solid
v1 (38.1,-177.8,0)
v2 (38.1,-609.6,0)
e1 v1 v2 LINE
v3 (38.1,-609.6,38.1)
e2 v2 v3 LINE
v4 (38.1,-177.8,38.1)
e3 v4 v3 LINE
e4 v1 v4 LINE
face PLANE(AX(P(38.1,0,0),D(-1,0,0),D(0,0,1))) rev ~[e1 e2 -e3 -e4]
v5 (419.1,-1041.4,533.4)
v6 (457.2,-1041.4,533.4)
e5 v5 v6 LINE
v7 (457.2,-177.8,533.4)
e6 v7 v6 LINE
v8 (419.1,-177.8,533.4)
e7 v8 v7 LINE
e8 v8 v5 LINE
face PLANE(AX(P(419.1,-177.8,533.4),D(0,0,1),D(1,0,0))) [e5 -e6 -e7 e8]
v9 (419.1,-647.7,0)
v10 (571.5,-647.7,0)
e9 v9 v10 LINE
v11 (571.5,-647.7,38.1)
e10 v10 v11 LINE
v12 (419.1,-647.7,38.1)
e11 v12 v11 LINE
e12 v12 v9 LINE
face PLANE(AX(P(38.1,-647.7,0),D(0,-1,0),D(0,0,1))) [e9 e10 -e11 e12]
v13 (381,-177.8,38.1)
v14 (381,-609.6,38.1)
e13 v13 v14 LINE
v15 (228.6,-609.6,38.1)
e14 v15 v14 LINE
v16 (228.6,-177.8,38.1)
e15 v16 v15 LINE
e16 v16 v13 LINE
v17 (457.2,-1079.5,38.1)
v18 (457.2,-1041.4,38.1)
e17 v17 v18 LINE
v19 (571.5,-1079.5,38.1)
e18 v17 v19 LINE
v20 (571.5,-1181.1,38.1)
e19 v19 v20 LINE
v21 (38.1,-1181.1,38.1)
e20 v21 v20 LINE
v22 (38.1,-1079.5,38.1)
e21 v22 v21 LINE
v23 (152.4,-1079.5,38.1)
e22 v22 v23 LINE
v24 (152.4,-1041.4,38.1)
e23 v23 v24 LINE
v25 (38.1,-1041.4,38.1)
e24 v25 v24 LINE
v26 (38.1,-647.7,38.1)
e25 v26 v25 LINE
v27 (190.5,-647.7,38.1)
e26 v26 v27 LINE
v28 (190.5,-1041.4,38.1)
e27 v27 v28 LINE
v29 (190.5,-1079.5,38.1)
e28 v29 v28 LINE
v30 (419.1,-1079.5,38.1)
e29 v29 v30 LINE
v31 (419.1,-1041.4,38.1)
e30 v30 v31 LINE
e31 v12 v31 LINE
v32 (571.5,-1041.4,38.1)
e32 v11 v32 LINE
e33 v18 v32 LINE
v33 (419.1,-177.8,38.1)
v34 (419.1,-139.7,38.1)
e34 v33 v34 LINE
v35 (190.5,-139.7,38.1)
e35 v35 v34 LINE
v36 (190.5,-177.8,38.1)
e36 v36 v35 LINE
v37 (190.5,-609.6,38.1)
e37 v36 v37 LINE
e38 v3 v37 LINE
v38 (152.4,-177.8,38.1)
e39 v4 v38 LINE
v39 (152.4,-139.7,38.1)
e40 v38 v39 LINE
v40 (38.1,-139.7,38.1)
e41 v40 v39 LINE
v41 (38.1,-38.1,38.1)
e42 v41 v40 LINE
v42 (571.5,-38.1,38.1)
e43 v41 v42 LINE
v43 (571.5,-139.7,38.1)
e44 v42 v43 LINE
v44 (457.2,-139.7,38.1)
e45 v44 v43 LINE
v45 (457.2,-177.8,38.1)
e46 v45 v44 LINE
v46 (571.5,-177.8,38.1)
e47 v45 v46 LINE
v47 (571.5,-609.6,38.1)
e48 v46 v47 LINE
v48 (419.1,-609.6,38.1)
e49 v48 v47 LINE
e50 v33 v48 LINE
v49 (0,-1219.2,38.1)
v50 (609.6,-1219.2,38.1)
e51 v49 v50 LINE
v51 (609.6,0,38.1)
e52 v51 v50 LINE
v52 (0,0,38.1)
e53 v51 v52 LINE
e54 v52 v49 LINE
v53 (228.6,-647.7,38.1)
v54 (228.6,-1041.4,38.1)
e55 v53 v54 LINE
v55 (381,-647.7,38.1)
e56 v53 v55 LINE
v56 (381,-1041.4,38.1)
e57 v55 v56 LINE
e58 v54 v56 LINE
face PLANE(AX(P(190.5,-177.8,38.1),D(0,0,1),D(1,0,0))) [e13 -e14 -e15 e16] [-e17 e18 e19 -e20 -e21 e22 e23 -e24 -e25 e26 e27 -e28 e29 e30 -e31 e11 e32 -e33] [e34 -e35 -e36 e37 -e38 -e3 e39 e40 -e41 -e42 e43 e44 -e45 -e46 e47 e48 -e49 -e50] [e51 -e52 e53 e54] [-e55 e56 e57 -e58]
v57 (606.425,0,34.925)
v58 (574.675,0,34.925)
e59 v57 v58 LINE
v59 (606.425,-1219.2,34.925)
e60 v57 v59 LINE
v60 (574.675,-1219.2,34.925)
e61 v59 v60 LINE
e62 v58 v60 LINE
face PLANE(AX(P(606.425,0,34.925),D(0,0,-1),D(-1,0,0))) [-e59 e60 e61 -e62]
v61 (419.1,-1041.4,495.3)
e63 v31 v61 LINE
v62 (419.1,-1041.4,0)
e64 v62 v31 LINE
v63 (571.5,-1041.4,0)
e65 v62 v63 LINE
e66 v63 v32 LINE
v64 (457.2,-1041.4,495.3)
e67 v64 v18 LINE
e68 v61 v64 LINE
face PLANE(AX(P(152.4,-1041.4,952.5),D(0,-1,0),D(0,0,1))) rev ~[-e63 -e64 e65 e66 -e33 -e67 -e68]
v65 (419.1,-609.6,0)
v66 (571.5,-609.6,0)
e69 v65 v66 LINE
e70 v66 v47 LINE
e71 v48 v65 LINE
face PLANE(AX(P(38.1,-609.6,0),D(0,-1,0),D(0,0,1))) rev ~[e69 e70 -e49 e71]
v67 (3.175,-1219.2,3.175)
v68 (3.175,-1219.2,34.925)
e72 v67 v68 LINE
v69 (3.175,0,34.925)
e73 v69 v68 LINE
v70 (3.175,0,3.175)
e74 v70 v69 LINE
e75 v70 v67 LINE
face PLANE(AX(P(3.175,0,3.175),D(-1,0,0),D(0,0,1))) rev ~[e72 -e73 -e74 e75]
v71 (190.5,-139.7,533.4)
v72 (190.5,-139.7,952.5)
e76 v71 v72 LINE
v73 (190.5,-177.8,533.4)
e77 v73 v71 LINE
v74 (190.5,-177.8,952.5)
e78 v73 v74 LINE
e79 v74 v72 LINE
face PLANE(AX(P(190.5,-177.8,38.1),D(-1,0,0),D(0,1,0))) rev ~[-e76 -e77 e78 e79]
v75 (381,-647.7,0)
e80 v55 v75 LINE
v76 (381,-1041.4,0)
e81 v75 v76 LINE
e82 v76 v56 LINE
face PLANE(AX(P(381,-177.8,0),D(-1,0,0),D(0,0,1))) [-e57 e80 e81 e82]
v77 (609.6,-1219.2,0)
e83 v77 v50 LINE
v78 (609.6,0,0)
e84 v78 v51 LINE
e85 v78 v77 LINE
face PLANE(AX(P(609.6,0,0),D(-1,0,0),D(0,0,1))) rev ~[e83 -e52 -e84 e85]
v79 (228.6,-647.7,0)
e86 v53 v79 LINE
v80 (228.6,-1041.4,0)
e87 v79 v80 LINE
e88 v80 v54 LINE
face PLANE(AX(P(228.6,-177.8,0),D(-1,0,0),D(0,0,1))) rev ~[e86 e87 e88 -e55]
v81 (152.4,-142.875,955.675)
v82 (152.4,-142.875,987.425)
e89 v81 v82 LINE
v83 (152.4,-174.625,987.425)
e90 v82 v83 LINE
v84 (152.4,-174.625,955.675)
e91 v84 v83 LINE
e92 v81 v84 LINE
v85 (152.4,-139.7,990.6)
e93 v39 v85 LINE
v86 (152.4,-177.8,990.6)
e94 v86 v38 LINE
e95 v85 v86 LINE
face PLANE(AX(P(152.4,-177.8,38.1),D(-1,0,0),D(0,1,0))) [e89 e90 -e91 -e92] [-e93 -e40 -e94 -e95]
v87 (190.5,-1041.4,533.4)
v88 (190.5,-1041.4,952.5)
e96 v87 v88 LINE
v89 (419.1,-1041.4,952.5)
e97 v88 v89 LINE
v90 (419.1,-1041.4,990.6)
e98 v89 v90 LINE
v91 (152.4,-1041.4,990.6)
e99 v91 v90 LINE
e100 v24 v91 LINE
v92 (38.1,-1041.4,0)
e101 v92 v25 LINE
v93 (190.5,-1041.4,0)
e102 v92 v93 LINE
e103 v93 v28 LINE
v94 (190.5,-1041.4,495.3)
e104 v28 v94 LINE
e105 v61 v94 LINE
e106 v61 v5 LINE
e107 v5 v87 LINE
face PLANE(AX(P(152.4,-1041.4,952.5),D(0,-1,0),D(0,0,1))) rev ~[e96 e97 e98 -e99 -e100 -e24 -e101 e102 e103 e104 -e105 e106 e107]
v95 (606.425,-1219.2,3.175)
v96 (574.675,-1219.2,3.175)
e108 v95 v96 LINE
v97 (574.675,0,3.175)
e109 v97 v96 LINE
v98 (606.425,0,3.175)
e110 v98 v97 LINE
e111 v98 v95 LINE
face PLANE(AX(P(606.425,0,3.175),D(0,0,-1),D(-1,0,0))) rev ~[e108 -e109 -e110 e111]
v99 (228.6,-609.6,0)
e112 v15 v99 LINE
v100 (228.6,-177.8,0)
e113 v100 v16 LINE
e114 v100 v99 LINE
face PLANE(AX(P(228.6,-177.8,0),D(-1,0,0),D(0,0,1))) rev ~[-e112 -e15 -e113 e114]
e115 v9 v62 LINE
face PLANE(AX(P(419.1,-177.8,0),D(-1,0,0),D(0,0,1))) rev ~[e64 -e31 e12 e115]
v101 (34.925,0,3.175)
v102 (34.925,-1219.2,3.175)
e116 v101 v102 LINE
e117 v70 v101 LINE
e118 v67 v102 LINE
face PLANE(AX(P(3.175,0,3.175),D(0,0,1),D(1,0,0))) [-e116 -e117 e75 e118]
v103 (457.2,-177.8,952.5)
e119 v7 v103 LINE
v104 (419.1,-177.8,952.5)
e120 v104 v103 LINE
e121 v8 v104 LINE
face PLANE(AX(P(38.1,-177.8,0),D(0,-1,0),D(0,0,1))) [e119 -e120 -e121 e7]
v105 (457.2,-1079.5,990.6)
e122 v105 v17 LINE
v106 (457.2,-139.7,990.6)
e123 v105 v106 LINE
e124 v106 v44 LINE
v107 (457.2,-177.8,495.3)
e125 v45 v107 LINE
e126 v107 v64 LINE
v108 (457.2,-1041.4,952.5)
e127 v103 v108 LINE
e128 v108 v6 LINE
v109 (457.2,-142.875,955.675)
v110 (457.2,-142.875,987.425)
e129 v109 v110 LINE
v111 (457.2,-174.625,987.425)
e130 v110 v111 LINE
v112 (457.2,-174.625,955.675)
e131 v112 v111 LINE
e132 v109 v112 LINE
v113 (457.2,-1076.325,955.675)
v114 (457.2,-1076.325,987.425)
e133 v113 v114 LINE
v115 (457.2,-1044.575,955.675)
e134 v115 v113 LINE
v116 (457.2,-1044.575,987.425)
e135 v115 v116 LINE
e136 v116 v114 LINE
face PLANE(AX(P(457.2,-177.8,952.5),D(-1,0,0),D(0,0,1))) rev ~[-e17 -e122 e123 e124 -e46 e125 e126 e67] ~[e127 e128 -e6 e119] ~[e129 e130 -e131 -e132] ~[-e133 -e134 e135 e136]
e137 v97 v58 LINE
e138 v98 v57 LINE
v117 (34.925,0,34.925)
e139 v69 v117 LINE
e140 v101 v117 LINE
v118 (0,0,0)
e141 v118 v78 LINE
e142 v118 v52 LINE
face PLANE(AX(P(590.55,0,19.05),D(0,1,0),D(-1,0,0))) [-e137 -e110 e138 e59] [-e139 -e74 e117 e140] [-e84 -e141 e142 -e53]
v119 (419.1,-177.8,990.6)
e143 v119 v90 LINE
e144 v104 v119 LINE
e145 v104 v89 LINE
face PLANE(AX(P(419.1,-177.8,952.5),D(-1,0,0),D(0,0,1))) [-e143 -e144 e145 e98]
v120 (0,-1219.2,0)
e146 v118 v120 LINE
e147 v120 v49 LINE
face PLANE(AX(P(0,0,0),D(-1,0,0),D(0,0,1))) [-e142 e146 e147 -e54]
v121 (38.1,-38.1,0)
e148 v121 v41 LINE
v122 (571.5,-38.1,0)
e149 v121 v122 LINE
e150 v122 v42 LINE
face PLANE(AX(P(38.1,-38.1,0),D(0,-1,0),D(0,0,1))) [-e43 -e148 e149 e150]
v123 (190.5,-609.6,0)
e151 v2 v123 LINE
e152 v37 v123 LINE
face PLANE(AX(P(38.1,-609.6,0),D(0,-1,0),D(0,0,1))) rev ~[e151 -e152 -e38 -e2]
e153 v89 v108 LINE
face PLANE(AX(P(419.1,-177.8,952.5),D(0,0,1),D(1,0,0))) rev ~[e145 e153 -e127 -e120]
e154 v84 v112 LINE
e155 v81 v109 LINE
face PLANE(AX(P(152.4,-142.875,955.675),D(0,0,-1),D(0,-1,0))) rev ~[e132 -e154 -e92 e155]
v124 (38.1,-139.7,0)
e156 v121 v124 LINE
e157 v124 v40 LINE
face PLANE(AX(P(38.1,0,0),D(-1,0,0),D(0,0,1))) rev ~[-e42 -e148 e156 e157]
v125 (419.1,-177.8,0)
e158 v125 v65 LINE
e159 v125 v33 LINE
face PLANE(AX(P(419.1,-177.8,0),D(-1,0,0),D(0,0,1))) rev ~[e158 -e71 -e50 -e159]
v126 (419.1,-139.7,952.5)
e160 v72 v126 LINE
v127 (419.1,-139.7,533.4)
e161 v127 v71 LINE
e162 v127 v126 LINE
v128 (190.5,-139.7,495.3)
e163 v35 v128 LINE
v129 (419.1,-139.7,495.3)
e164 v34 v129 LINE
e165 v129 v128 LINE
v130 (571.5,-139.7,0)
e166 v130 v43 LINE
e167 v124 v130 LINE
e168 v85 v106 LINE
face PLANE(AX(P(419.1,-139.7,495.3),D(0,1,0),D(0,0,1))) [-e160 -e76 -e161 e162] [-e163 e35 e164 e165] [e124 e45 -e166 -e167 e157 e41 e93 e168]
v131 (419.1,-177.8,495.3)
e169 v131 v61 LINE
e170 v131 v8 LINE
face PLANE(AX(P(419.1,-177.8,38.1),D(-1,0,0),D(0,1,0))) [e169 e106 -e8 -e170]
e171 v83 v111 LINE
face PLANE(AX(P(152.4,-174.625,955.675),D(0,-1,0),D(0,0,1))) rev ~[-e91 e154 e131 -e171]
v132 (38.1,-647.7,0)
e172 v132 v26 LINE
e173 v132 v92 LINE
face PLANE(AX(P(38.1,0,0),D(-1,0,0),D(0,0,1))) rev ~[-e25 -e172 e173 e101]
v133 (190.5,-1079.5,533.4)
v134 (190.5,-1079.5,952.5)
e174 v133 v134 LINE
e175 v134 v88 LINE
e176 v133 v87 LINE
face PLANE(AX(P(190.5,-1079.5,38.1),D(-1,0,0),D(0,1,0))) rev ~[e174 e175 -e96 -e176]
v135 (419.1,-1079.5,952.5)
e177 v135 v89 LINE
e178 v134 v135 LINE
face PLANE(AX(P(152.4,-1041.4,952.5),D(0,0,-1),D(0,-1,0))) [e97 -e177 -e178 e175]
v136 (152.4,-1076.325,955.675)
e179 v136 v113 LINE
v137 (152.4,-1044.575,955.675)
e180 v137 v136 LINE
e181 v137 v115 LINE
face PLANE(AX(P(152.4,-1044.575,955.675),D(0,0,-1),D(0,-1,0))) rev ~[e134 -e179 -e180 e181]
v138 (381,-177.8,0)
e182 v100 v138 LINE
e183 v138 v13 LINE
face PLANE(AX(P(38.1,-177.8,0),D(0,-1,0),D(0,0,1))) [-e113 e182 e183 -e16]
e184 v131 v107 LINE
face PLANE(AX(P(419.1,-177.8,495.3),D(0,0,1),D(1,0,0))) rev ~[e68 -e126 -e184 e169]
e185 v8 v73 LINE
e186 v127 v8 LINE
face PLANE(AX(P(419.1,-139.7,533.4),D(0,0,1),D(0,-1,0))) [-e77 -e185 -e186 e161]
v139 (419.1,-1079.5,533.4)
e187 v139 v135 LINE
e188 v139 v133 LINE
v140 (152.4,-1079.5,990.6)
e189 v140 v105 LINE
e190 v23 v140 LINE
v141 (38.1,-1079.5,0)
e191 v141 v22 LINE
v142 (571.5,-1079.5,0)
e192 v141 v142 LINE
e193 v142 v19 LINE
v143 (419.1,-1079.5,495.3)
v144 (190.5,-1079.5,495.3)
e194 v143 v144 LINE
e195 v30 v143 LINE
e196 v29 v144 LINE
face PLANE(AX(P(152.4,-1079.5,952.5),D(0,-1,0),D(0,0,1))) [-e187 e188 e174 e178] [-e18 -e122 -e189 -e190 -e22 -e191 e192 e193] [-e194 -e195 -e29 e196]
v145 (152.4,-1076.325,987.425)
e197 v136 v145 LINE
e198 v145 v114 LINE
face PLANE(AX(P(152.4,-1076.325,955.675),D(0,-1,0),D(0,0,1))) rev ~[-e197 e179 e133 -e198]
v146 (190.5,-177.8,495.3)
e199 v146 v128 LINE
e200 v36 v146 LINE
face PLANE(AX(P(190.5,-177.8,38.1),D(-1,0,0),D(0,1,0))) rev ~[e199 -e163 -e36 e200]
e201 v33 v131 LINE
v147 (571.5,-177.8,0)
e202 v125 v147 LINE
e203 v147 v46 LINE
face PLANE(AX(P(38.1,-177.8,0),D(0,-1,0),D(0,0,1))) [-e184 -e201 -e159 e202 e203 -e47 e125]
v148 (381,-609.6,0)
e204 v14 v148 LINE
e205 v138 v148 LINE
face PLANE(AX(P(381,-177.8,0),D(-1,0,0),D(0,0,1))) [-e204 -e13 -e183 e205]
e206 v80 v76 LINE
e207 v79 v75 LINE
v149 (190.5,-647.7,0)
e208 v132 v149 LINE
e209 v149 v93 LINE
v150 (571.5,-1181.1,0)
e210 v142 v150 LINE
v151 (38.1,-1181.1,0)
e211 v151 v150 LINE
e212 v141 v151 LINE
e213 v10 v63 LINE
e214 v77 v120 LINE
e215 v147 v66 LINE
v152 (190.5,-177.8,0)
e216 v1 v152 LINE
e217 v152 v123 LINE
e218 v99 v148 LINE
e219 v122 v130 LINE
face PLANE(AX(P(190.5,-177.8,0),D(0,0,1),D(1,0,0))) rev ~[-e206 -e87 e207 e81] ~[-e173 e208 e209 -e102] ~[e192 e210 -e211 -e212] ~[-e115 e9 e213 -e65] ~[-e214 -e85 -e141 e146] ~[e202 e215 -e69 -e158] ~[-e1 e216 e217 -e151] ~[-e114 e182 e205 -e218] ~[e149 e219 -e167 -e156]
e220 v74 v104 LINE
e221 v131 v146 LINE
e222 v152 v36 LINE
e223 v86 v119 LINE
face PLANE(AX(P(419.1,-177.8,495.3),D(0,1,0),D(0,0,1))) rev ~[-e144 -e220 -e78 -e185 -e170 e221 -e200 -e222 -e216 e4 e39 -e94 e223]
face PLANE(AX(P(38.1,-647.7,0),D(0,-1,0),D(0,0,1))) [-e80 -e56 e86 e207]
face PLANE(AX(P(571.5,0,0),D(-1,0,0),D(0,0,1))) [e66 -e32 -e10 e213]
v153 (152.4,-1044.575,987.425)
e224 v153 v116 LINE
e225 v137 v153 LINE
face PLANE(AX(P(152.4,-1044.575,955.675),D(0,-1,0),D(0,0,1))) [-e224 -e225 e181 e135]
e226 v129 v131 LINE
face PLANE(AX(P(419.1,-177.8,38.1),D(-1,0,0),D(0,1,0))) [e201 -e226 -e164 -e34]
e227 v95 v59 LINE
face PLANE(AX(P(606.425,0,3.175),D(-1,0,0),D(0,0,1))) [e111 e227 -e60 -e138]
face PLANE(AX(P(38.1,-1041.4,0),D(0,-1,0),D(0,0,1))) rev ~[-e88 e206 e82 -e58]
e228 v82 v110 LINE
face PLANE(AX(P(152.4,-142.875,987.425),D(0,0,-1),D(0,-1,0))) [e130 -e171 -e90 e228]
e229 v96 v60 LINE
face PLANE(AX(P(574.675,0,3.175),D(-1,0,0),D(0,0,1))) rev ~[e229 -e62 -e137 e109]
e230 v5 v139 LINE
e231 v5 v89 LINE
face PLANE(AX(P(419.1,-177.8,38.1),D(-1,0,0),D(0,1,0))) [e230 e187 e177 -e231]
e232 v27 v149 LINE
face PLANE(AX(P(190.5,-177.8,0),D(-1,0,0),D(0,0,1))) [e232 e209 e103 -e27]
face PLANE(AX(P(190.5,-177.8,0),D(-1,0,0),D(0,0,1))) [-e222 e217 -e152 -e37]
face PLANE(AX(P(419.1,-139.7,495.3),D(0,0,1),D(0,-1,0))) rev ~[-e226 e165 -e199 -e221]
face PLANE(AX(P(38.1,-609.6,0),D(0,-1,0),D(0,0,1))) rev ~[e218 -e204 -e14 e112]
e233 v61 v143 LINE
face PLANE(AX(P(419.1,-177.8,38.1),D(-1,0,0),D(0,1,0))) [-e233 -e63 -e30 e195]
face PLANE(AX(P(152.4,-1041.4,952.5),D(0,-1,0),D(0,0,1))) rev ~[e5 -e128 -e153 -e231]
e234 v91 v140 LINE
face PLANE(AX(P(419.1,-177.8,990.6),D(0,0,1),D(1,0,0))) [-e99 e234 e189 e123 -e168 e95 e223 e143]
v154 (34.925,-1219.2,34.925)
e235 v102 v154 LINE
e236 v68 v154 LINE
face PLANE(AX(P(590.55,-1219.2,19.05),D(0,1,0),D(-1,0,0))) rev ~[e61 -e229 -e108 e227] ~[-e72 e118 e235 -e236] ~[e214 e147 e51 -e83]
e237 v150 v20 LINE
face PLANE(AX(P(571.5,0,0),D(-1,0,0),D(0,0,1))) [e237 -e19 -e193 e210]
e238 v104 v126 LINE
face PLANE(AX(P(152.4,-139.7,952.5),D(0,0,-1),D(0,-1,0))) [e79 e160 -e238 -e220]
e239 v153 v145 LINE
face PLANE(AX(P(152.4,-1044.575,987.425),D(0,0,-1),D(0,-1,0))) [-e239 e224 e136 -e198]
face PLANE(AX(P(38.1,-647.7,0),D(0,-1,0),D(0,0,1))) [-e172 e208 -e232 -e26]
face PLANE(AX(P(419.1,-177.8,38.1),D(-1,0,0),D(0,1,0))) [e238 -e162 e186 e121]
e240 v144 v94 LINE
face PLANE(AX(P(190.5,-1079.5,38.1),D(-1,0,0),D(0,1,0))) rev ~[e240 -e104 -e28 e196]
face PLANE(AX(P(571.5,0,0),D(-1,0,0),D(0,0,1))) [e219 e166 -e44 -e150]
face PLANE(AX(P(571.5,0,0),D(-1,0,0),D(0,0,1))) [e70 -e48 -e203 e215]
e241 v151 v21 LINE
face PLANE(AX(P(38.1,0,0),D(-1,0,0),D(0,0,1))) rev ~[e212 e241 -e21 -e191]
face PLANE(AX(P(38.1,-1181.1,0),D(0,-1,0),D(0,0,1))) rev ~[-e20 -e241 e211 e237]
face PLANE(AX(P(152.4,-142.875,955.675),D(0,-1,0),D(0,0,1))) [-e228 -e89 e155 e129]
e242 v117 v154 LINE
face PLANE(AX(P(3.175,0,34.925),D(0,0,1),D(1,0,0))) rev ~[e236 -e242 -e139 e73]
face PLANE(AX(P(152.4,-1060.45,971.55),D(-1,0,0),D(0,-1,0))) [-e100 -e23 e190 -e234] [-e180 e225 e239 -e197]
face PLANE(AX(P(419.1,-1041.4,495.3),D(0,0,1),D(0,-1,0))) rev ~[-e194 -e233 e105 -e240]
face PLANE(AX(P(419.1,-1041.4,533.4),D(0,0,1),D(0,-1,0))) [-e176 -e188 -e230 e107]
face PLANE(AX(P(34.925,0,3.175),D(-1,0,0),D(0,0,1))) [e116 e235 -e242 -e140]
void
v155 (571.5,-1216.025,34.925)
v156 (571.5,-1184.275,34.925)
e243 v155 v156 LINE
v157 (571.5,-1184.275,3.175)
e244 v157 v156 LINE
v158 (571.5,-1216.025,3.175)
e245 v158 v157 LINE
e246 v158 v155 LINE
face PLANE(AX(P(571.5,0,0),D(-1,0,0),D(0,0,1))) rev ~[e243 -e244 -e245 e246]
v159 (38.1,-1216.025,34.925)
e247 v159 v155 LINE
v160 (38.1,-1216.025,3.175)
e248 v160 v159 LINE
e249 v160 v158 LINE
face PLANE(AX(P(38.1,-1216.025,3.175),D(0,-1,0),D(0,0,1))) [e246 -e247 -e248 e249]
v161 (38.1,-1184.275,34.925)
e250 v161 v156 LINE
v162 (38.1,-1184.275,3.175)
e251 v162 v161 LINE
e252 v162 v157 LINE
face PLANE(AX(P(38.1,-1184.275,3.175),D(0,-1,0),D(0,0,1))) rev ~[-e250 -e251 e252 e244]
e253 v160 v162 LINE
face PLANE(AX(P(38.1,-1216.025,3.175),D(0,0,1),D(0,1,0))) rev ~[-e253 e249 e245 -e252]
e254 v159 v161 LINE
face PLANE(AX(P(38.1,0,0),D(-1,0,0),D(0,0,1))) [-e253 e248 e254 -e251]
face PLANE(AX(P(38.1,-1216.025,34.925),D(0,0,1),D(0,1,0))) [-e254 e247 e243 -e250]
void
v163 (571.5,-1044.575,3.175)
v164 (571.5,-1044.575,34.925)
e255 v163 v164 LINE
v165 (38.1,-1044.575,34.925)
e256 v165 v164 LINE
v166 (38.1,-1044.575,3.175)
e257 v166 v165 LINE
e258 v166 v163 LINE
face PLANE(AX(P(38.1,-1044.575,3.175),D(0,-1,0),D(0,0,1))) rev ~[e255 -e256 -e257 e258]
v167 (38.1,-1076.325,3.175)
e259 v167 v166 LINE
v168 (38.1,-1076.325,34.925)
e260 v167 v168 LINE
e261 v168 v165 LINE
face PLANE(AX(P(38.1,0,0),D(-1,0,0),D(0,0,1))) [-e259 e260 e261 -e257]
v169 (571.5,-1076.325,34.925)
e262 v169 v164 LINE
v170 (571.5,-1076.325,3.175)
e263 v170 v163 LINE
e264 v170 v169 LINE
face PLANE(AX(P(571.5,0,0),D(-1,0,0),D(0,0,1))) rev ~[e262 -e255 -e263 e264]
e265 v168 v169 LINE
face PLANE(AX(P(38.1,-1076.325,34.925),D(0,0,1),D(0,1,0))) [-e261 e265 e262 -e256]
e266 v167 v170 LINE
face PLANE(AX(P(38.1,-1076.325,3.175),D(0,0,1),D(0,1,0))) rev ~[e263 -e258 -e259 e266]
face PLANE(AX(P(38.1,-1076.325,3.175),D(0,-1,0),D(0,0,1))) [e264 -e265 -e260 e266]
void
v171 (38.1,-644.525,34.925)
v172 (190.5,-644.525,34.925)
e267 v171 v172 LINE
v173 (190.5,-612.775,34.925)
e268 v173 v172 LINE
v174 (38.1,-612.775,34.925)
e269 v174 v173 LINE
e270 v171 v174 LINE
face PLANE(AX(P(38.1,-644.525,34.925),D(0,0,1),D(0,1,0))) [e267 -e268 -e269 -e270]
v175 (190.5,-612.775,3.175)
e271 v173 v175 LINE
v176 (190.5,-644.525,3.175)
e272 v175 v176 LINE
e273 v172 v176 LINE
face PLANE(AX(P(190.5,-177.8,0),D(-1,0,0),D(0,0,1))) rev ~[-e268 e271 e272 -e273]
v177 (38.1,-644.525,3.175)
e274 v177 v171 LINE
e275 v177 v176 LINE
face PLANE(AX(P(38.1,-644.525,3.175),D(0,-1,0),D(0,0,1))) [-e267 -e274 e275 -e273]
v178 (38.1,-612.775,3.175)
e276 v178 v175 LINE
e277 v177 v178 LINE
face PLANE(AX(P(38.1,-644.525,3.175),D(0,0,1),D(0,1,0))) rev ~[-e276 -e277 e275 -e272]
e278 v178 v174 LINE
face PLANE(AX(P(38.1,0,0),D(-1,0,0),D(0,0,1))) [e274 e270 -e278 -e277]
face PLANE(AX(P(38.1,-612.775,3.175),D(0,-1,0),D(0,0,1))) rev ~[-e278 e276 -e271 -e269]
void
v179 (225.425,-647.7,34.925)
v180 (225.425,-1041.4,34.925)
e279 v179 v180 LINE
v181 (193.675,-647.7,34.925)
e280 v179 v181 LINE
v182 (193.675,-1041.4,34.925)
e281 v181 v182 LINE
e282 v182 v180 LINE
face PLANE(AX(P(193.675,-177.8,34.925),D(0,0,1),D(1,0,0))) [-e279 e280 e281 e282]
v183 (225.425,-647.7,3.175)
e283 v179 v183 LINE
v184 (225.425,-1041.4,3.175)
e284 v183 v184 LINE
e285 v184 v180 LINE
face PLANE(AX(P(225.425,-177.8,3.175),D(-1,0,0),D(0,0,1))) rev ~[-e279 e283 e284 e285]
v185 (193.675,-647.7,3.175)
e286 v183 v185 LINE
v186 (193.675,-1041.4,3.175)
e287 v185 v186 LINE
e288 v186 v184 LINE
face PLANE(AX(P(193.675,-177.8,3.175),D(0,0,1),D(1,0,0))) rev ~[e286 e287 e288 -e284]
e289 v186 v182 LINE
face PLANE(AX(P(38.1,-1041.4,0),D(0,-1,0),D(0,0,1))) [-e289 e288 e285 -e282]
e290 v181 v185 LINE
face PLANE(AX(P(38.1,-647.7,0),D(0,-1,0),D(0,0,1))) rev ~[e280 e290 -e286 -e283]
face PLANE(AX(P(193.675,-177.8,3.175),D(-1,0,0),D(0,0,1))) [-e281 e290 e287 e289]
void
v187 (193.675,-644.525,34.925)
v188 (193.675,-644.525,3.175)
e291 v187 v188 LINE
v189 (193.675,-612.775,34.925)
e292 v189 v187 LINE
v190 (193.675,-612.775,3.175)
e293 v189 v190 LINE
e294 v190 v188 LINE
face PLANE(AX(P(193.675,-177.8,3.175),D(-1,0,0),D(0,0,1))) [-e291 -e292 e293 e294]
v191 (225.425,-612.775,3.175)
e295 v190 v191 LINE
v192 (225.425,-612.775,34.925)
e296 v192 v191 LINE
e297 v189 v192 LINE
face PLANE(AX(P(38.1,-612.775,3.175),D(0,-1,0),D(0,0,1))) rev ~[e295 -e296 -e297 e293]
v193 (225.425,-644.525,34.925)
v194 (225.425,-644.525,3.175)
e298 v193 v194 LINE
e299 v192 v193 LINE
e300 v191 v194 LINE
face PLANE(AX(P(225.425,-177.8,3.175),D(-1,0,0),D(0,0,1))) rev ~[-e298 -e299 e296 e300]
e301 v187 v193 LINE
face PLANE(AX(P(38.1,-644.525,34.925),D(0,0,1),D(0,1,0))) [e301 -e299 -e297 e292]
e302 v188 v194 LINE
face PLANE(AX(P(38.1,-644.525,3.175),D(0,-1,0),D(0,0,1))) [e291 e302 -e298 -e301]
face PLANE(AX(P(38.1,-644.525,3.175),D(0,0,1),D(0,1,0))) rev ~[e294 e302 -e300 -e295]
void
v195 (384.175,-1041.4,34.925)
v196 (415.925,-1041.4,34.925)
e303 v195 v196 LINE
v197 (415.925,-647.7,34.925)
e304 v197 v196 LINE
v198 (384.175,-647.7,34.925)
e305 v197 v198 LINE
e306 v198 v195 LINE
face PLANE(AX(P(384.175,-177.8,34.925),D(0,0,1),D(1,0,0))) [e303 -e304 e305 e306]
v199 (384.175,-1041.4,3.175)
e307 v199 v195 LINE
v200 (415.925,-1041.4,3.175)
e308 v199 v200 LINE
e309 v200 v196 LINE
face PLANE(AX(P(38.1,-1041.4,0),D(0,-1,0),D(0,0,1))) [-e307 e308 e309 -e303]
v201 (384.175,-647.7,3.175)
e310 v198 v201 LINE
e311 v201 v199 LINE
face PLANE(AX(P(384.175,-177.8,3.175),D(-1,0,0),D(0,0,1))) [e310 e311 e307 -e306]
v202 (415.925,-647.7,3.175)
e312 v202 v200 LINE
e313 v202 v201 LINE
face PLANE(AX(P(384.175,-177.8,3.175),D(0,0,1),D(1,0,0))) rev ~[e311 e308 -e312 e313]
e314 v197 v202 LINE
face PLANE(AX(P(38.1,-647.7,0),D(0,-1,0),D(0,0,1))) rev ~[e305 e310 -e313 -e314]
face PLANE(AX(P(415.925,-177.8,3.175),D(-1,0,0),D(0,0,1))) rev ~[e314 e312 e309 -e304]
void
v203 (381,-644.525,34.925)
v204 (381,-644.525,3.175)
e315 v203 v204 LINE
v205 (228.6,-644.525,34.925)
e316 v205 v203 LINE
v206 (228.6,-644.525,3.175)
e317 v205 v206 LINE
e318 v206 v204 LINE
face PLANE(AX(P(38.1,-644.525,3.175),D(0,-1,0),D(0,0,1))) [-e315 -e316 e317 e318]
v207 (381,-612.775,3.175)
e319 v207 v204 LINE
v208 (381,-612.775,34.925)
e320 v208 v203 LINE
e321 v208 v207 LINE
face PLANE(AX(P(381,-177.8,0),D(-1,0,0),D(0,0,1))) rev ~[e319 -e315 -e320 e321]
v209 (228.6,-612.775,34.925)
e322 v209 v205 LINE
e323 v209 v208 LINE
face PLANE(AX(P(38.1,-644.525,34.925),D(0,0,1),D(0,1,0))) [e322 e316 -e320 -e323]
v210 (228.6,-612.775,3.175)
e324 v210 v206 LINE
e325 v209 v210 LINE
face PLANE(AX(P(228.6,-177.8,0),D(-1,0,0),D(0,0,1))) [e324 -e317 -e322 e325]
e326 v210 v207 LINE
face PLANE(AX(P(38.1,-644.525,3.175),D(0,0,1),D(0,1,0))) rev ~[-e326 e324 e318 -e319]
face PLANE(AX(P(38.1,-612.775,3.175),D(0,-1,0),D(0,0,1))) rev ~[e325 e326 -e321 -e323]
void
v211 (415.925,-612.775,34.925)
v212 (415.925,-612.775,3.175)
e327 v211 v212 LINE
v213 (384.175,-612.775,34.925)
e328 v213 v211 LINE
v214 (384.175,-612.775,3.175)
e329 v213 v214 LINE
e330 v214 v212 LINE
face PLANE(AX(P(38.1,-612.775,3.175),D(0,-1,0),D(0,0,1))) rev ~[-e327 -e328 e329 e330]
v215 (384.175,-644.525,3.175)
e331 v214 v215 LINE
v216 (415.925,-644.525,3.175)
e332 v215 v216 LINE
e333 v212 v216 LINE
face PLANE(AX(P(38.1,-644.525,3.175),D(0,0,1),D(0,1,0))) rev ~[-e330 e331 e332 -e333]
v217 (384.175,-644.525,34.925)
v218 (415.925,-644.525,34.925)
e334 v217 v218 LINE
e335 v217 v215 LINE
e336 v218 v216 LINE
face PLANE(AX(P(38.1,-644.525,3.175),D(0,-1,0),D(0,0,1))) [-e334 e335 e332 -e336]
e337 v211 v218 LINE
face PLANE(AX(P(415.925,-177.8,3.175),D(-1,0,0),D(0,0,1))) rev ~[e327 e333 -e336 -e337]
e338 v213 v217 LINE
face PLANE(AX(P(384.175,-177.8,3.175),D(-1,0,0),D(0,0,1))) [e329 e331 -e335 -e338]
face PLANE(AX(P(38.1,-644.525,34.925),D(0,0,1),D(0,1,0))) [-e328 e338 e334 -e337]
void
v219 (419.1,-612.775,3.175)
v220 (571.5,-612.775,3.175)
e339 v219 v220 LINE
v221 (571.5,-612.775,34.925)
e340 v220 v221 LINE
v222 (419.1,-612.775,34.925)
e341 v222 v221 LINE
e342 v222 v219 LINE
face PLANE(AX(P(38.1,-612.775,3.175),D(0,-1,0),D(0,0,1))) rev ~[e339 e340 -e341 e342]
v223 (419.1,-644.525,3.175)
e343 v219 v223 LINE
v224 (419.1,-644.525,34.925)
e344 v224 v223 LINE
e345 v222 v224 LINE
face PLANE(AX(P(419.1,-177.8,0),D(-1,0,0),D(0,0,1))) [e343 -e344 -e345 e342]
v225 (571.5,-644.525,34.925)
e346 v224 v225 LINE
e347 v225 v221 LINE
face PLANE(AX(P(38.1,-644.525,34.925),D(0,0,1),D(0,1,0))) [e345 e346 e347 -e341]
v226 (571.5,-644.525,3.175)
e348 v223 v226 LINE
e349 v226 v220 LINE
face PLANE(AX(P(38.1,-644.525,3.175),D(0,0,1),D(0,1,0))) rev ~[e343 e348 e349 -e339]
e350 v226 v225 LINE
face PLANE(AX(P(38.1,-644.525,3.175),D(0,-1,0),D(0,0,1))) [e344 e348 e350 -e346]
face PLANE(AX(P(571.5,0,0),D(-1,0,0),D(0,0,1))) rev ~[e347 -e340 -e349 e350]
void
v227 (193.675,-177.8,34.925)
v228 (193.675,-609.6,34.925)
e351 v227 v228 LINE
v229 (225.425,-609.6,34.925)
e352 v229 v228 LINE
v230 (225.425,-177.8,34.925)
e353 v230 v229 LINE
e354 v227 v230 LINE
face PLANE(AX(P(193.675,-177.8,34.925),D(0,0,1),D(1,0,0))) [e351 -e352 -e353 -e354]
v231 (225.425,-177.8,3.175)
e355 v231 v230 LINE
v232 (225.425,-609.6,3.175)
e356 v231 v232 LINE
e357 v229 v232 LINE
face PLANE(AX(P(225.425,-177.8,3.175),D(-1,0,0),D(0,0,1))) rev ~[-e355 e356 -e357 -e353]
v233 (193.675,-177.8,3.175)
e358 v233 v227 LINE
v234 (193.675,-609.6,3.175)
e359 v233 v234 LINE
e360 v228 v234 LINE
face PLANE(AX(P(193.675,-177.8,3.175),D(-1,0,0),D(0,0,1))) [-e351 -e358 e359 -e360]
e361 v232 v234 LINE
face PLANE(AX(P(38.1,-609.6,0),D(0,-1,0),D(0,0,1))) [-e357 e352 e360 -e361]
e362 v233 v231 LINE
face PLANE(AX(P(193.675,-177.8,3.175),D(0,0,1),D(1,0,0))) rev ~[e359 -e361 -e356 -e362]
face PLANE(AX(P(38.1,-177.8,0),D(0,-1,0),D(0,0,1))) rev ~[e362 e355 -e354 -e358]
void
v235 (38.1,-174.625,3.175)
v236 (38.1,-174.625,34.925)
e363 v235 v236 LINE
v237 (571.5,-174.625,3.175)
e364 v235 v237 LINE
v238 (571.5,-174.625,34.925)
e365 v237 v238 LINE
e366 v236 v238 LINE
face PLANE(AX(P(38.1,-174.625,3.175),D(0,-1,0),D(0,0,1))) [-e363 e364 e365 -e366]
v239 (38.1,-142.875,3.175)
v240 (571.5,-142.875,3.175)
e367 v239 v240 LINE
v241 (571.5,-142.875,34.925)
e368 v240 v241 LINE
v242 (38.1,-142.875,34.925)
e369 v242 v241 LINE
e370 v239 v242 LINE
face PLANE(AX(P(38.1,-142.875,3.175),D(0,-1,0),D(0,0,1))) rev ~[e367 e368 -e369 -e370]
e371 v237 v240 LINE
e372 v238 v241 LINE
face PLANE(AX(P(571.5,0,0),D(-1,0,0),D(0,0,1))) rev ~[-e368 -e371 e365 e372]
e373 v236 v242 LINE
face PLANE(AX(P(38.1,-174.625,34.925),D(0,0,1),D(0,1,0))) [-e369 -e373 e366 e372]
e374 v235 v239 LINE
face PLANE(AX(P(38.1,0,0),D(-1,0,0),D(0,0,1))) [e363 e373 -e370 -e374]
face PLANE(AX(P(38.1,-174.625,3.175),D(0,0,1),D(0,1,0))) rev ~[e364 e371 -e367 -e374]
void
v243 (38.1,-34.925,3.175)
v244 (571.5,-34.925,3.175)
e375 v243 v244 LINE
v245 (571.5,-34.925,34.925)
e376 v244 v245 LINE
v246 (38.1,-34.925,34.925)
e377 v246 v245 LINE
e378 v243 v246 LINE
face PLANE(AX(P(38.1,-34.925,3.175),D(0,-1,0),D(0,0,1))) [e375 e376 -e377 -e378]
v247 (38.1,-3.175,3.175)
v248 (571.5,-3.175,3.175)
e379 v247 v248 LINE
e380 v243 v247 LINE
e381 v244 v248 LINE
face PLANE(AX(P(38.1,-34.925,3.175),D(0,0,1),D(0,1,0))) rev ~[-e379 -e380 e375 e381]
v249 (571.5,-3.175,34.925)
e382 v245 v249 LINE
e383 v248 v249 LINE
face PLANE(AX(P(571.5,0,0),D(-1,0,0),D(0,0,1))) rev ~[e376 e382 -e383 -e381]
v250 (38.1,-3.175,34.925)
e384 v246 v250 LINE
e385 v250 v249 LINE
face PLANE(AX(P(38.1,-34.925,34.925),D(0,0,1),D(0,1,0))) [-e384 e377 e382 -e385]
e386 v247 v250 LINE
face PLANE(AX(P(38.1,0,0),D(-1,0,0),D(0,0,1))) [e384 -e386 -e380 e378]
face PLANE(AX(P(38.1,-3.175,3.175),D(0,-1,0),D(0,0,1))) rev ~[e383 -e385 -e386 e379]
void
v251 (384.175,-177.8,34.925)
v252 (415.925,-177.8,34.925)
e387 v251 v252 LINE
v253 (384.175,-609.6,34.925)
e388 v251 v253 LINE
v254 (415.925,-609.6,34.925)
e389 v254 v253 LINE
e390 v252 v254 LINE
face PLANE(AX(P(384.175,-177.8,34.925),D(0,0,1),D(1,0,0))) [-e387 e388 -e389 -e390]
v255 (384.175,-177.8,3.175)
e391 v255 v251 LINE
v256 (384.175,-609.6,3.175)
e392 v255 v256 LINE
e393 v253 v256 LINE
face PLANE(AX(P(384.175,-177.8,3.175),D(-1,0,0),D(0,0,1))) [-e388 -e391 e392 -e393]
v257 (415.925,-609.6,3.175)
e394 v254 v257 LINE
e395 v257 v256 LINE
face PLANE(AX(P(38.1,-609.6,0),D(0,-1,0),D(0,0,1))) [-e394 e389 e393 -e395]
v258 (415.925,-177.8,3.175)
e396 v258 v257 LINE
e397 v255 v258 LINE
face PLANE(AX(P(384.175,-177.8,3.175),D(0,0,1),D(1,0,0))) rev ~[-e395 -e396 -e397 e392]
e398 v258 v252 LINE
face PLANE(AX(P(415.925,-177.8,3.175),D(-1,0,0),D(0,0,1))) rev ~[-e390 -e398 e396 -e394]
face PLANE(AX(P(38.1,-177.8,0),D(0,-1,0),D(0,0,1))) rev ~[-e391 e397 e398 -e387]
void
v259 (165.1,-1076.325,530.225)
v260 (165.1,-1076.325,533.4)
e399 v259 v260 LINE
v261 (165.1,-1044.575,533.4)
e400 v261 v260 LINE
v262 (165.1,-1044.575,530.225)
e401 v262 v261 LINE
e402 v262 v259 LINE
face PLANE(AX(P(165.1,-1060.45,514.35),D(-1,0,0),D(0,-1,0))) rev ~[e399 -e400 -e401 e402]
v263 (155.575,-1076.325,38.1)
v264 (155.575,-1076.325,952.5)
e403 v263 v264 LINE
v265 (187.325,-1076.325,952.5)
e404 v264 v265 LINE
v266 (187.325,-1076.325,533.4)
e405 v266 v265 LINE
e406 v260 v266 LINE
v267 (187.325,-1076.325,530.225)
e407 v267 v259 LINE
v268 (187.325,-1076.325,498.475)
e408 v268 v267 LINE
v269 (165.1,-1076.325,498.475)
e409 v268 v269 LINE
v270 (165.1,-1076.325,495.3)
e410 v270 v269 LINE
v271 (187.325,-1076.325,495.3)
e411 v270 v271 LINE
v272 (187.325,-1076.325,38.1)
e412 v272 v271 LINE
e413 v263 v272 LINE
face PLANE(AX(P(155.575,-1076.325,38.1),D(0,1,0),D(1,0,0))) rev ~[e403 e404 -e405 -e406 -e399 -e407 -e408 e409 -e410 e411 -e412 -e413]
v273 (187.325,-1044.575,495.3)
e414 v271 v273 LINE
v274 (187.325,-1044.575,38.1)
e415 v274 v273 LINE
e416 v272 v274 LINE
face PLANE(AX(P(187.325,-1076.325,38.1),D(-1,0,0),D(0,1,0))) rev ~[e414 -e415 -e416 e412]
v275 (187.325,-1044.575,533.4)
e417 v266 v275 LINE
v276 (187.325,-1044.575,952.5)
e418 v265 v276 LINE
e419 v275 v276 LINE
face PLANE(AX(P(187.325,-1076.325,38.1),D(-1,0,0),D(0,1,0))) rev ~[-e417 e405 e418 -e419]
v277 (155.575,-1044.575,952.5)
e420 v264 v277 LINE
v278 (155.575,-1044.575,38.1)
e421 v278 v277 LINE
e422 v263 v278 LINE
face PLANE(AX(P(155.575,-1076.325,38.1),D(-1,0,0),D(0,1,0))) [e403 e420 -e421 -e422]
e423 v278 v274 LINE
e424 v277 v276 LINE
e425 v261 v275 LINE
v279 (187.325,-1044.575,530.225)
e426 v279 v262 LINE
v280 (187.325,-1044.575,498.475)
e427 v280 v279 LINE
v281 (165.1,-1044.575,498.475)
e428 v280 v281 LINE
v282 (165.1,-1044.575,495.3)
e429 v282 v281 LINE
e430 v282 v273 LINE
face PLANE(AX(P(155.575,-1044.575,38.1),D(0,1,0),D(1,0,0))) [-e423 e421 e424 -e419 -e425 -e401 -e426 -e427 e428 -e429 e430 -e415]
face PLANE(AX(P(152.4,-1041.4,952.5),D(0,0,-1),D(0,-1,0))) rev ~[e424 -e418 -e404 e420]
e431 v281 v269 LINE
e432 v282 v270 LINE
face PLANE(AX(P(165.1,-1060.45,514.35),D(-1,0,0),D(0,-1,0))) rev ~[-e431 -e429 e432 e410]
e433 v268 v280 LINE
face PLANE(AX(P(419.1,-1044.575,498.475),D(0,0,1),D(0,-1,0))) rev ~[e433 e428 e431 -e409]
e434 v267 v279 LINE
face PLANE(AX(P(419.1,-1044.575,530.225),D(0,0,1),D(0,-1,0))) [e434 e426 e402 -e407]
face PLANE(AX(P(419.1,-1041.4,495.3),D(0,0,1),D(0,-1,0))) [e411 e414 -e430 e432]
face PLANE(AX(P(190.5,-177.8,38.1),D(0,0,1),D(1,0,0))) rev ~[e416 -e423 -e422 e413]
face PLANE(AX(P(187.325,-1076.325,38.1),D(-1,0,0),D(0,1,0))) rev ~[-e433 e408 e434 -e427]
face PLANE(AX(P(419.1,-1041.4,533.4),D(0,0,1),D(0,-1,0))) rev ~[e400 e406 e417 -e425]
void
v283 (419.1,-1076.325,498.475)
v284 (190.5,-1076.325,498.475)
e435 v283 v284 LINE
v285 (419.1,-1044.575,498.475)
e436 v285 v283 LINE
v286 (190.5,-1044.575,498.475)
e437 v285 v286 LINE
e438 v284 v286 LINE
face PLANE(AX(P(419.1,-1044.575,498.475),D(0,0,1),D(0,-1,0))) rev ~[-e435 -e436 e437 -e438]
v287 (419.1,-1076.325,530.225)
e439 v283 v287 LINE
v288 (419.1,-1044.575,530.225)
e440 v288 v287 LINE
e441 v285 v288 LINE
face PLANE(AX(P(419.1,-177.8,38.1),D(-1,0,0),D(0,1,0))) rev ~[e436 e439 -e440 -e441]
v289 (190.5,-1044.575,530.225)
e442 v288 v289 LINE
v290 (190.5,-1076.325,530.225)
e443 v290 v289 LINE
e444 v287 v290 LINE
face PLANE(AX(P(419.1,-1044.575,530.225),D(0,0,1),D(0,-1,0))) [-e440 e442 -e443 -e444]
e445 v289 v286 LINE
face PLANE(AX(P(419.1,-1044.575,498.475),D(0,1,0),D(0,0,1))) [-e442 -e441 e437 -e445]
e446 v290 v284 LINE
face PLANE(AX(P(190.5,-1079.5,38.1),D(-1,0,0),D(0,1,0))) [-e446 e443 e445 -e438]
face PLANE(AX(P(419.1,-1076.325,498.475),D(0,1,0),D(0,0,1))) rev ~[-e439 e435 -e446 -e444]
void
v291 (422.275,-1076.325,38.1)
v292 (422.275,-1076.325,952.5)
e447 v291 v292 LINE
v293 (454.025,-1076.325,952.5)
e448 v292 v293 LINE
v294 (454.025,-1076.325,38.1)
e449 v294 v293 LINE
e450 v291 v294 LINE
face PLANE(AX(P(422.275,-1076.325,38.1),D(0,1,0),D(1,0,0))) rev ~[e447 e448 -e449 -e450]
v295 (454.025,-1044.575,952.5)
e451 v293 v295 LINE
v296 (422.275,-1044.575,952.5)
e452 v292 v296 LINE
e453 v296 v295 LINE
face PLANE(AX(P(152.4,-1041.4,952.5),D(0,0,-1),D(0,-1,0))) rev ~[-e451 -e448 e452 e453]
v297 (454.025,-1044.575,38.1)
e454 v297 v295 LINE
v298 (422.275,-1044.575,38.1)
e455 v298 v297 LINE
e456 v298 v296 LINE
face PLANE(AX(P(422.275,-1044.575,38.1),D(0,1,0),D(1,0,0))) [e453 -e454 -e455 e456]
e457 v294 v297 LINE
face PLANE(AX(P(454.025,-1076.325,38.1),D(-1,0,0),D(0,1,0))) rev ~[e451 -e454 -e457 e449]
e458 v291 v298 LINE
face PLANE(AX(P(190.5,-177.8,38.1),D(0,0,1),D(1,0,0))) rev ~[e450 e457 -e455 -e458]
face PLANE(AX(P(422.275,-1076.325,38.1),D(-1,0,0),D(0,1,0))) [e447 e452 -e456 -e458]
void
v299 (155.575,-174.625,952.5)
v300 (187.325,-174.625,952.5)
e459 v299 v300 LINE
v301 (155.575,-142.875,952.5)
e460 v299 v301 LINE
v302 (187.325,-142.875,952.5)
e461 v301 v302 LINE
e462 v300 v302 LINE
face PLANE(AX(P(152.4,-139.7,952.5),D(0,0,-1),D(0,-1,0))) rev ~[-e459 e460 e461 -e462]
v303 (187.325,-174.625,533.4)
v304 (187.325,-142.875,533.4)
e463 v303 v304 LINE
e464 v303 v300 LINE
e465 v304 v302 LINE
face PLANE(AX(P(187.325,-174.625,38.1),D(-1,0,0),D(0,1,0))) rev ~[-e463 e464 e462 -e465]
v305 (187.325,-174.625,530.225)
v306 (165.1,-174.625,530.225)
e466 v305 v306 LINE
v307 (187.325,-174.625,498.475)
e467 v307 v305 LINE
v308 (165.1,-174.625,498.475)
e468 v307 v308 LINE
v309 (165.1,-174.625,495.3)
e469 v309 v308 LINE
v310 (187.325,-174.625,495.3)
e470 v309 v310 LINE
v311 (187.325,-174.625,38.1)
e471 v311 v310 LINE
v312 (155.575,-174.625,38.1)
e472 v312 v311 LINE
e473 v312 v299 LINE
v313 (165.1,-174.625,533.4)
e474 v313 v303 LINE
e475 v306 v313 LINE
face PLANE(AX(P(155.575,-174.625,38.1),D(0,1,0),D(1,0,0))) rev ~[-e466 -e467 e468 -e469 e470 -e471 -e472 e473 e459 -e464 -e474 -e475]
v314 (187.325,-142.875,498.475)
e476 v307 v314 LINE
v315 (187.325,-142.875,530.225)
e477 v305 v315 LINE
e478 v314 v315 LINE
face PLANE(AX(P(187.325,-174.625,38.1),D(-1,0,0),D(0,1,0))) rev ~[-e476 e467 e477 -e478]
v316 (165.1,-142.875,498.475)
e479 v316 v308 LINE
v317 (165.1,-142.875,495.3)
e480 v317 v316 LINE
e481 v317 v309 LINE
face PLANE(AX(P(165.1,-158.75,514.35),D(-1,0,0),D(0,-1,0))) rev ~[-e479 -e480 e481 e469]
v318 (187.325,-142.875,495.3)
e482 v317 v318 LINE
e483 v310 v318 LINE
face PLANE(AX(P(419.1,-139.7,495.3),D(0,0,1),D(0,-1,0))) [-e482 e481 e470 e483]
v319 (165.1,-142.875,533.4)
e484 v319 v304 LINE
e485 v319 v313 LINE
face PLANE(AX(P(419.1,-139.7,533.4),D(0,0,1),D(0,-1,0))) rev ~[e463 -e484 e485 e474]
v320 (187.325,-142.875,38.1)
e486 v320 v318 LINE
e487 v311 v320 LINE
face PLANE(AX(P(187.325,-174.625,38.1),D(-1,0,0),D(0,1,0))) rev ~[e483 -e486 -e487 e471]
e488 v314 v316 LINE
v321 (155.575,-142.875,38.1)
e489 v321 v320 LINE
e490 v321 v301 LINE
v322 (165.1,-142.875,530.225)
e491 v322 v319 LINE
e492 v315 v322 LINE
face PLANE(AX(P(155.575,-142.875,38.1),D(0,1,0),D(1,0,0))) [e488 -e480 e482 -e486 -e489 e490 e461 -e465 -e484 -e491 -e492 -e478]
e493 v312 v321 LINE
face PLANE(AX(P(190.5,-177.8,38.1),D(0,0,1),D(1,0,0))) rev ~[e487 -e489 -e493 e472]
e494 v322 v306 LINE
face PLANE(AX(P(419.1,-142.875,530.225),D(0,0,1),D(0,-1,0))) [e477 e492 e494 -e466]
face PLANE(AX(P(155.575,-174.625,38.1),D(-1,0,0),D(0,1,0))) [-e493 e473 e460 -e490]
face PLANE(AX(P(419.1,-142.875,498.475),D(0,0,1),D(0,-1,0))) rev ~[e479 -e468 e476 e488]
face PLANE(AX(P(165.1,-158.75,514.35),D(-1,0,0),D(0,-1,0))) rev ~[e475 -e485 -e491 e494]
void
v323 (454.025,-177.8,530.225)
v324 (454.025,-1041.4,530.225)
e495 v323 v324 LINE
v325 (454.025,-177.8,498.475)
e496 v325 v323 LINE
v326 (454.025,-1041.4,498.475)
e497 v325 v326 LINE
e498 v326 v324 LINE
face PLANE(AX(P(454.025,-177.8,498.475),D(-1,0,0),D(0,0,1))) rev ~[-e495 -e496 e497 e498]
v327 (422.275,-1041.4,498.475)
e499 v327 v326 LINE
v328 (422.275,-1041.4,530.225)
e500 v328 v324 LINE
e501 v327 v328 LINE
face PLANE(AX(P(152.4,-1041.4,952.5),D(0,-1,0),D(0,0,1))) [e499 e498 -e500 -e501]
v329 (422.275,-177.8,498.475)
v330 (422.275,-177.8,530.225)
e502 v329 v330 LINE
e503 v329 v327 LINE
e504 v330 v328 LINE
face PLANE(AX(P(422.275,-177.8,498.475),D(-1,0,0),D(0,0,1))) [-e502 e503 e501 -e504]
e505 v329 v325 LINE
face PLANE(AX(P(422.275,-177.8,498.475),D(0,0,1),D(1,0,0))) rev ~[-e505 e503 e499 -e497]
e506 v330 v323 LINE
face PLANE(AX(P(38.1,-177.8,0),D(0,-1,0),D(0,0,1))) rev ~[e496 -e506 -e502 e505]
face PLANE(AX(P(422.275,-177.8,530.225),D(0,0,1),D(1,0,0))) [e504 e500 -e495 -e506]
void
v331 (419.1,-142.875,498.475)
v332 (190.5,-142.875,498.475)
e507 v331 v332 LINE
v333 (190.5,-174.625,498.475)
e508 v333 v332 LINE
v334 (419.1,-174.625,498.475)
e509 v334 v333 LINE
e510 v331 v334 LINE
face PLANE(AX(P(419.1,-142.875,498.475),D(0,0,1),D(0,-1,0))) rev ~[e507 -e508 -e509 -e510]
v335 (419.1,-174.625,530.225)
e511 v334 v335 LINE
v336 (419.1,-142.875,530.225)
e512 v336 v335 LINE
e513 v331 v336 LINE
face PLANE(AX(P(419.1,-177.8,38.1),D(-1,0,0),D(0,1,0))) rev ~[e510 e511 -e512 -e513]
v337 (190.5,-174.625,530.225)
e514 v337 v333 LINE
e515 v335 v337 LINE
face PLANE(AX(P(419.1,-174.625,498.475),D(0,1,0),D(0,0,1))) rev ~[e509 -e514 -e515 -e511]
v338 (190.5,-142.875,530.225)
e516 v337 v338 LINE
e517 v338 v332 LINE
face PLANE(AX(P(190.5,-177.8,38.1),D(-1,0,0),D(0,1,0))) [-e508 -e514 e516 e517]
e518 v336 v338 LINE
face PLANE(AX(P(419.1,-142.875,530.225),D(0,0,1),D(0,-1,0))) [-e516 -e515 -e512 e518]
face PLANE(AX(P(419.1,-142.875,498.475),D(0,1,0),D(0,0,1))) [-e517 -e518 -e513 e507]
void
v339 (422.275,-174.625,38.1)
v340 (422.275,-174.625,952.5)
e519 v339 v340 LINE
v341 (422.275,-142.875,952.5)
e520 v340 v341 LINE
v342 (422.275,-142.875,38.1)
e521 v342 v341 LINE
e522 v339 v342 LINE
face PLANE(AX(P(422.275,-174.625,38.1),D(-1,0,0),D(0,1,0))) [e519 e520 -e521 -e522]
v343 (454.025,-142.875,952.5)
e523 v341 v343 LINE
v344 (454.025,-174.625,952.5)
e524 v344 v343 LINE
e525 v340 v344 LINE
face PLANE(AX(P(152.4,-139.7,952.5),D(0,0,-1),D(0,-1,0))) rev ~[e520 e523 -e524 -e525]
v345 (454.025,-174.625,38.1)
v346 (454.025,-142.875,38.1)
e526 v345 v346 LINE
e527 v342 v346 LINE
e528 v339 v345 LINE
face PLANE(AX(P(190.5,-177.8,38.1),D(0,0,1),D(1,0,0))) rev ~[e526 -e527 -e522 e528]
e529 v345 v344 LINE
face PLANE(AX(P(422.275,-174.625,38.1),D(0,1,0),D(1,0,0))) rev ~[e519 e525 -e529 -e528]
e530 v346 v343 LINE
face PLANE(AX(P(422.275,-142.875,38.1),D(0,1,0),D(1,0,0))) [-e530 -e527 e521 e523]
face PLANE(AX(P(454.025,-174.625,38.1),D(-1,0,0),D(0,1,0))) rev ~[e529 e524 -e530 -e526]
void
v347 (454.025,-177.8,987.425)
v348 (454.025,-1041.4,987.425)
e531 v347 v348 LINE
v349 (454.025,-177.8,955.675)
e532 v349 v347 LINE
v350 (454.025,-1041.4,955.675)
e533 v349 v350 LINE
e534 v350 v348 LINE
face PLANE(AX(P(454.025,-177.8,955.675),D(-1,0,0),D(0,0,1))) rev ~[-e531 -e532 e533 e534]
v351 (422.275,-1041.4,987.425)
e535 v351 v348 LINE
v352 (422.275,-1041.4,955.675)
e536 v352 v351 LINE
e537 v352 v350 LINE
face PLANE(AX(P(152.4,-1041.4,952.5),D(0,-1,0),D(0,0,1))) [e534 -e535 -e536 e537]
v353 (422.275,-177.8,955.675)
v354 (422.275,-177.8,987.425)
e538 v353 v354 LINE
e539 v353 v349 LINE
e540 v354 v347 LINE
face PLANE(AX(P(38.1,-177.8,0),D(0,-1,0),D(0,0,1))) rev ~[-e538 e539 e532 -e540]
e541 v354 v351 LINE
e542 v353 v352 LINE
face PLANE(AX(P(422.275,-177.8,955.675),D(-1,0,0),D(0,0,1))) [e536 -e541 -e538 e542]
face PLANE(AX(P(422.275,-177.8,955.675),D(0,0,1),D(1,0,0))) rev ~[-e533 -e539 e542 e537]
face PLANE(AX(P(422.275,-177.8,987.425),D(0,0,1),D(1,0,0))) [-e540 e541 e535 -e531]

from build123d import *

# Parameters (mm, degrees)
F0_W      = 38.1
F0_H      = 38.1
F0_W_2    = 31.75
F0_H_2    = 31.75
F1_DEPTH  = 1219.2
F2_W      = 38.1
F2_H      = 38.1
F2_W_2    = 31.75
F2_H_2    = 31.75
F3_DEPTH  = 533.4
F4_W      = 38.1
F4_H      = 38.1
F4_W_2    = 31.75
F4_H_2    = 31.75
F5_DEPTH  = 1219.2
F6_W      = 38.1
F6_H      = 38.1
F6_W_2    = 31.75
F6_H_2    = 31.75
F7_DEPTH  = 533.4
F8_W      = 38.1
F8_H      = 38.1
F8_W_2    = 31.75
F8_H_2    = 31.75
F9_DEPTH  = 863.6
F10_W     = 38.1
F10_H     = 38.1
F10_W_2   = 31.75
F10_H_2   = 31.75
F11_DEPTH = 914.4
F12_W     = 38.1
F12_H     = 38.1
F12_W_2   = 31.75
F12_H_2   = 31.75
F13_DEPTH = 304.8
F14_W     = 38.1
F14_H     = 38.1
F14_W_2   = 31.75
F14_H_2   = 31.75
F15_DEPTH = 863.6
F16_W     = 38.1
F16_H     = 38.1
F16_W_2   = 31.75
F16_H_2   = 31.75
F17_DEPTH = 254


with BuildPart() as f1:
    # F0 (on Front) → F1 (new body)
    with BuildSketch(Plane.XZ):
        with Locations((19.05, 19.05)):
            Rectangle(F0_W, F0_H)
        with Locations((19.05, 19.05)):
            Rectangle(F0_W_2, F0_H_2, mode=Mode.SUBTRACT)
    extrude(amount=F1_DEPTH)

    # F2 (on face) → F3 (join)
    with BuildSketch(Plane.YZ.offset(38.1)):
        with Locations((-1200.15, 19.05)):
            Rectangle(F2_W, F2_H)
        with Locations((-1200.15, 19.05)):
            Rectangle(F2_W_2, F2_H_2, mode=Mode.SUBTRACT)
        with Locations((-19.05, 19.05)):
            Rectangle(F2_W, F2_H)
        with Locations((-19.05, 19.05)):
            Rectangle(F2_W_2, F2_H_2, mode=Mode.SUBTRACT)
    extrude(amount=F3_DEPTH)

    # F4 (on face) → F5 (join)
    with BuildSketch(Plane(origin=(0, 0, 0), x_dir=(-1, 0, 0), z_dir=(0, 1, 0))):
        with Locations((-590.55, 19.05)):
            Rectangle(F4_W, F4_H)
        with Locations((-590.55, 19.05)):
            Rectangle(F4_W_2, F4_H_2, mode=Mode.SUBTRACT)
    extrude(amount=-F5_DEPTH)

    # F6 (on face) → F7 (join)
    with BuildSketch(Plane.YZ.offset(38.1)):
        with Locations((-1060.45, 19.05)):
            Rectangle(F6_W, F6_H)
        with Locations((-1060.45, 19.05)):
            Rectangle(F6_W_2, F6_H_2, mode=Mode.SUBTRACT)
        with Locations((-158.75, 19.05)):
            Rectangle(F6_W, F6_H)
        with Locations((-158.75, 19.05)):
            Rectangle(F6_W_2, F6_H_2, mode=Mode.SUBTRACT)
        with Locations((-628.65, 19.05)):
            Rectangle(F6_W, F6_H)
        with Locations((-628.65, 19.05)):
            Rectangle(F6_W_2, F6_H_2, mode=Mode.SUBTRACT)
    extrude(amount=F7_DEPTH)

    # F8 (on face) → F9 (join)
    with BuildSketch(Plane.XZ.offset(177.8)):
        with Locations((209.55, 19.05)):
            Rectangle(F8_W, F8_H)
        with Locations((209.55, 19.05)):
            Rectangle(F8_W_2, F8_H_2, mode=Mode.SUBTRACT)
        with Locations((400.05, 19.05)):
            Rectangle(F8_W, F8_H)
        with Locations((400.05, 19.05)):
            Rectangle(F8_W_2, F8_H_2, mode=Mode.SUBTRACT)
    extrude(amount=F9_DEPTH)

    # F10 (on face) → F11 (join)
    with BuildSketch(Plane.XY.offset(38.1)):
        with Locations((438.15, -158.75)):
            Rectangle(F10_W, F10_H)
        with Locations((438.15, -158.75)):
            Rectangle(F10_W_2, F10_H_2, mode=Mode.SUBTRACT)
        with Locations((171.45, -158.75)):
            Rectangle(F10_W, F10_H)
        with Locations((171.45, -158.75)):
            Rectangle(F10_W_2, F10_H_2, mode=Mode.SUBTRACT)
        with Locations((438.15, -1060.45)):
            Rectangle(F10_W, F10_H)
        with Locations((438.15, -1060.45)):
            Rectangle(F10_W_2, F10_H_2, mode=Mode.SUBTRACT)
        with Locations((171.45, -1060.45)):
            Rectangle(F10_W, F10_H)
        with Locations((171.45, -1060.45)):
            Rectangle(F10_W_2, F10_H_2, mode=Mode.SUBTRACT)
    extrude(amount=F11_DEPTH)

    # F12 (on face) → F13 (join)
    with BuildSketch(Plane(origin=(152.4, 0, 0), x_dir=(0, -1, 0), z_dir=(-1, 0, 0))):
        with Locations((1060.45, 971.55)):
            Rectangle(F12_W, F12_H)
        with Locations((1060.45, 971.55)):
            Rectangle(F12_W_2, F12_H_2, mode=Mode.SUBTRACT)
        with Locations((158.75, 971.55)):
            Rectangle(F12_W, F12_H)
        with Locations((158.75, 971.55)):
            Rectangle(F12_W_2, F12_H_2, mode=Mode.SUBTRACT)
    extrude(amount=-F13_DEPTH)

    # F14 (on face) → F15 (join)
    with BuildSketch(Plane.XZ.offset(177.8)):
        with Locations((438.15, 971.55)):
            Rectangle(F14_W, F14_H)
        with Locations((438.15, 971.55)):
            Rectangle(F14_W_2, F14_H_2, mode=Mode.SUBTRACT)
        with Locations((438.15, 514.35)):
            Rectangle(F14_W, F14_H)
        with Locations((438.15, 514.35)):
            Rectangle(F14_W_2, F14_H_2, mode=Mode.SUBTRACT)
    extrude(amount=F15_DEPTH)

    # F16 (on face) → F17 (join)
    with BuildSketch(Plane(origin=(419.1, 0, 0), x_dir=(0, -1, 0), z_dir=(-1, 0, 0))):
        with Locations((158.75, 514.35)):
            Rectangle(F16_W, F16_H)
        with Locations((158.75, 514.35)):
            Rectangle(F16_W_2, F16_H_2, mode=Mode.SUBTRACT)
        with Locations((1060.45, 514.35)):
            Rectangle(F16_W, F16_H)
        with Locations((1060.45, 514.35)):
            Rectangle(F16_W_2, F16_H_2, mode=Mode.SUBTRACT)
    extrude(amount=F17_DEPTH)


solid = f1.part
